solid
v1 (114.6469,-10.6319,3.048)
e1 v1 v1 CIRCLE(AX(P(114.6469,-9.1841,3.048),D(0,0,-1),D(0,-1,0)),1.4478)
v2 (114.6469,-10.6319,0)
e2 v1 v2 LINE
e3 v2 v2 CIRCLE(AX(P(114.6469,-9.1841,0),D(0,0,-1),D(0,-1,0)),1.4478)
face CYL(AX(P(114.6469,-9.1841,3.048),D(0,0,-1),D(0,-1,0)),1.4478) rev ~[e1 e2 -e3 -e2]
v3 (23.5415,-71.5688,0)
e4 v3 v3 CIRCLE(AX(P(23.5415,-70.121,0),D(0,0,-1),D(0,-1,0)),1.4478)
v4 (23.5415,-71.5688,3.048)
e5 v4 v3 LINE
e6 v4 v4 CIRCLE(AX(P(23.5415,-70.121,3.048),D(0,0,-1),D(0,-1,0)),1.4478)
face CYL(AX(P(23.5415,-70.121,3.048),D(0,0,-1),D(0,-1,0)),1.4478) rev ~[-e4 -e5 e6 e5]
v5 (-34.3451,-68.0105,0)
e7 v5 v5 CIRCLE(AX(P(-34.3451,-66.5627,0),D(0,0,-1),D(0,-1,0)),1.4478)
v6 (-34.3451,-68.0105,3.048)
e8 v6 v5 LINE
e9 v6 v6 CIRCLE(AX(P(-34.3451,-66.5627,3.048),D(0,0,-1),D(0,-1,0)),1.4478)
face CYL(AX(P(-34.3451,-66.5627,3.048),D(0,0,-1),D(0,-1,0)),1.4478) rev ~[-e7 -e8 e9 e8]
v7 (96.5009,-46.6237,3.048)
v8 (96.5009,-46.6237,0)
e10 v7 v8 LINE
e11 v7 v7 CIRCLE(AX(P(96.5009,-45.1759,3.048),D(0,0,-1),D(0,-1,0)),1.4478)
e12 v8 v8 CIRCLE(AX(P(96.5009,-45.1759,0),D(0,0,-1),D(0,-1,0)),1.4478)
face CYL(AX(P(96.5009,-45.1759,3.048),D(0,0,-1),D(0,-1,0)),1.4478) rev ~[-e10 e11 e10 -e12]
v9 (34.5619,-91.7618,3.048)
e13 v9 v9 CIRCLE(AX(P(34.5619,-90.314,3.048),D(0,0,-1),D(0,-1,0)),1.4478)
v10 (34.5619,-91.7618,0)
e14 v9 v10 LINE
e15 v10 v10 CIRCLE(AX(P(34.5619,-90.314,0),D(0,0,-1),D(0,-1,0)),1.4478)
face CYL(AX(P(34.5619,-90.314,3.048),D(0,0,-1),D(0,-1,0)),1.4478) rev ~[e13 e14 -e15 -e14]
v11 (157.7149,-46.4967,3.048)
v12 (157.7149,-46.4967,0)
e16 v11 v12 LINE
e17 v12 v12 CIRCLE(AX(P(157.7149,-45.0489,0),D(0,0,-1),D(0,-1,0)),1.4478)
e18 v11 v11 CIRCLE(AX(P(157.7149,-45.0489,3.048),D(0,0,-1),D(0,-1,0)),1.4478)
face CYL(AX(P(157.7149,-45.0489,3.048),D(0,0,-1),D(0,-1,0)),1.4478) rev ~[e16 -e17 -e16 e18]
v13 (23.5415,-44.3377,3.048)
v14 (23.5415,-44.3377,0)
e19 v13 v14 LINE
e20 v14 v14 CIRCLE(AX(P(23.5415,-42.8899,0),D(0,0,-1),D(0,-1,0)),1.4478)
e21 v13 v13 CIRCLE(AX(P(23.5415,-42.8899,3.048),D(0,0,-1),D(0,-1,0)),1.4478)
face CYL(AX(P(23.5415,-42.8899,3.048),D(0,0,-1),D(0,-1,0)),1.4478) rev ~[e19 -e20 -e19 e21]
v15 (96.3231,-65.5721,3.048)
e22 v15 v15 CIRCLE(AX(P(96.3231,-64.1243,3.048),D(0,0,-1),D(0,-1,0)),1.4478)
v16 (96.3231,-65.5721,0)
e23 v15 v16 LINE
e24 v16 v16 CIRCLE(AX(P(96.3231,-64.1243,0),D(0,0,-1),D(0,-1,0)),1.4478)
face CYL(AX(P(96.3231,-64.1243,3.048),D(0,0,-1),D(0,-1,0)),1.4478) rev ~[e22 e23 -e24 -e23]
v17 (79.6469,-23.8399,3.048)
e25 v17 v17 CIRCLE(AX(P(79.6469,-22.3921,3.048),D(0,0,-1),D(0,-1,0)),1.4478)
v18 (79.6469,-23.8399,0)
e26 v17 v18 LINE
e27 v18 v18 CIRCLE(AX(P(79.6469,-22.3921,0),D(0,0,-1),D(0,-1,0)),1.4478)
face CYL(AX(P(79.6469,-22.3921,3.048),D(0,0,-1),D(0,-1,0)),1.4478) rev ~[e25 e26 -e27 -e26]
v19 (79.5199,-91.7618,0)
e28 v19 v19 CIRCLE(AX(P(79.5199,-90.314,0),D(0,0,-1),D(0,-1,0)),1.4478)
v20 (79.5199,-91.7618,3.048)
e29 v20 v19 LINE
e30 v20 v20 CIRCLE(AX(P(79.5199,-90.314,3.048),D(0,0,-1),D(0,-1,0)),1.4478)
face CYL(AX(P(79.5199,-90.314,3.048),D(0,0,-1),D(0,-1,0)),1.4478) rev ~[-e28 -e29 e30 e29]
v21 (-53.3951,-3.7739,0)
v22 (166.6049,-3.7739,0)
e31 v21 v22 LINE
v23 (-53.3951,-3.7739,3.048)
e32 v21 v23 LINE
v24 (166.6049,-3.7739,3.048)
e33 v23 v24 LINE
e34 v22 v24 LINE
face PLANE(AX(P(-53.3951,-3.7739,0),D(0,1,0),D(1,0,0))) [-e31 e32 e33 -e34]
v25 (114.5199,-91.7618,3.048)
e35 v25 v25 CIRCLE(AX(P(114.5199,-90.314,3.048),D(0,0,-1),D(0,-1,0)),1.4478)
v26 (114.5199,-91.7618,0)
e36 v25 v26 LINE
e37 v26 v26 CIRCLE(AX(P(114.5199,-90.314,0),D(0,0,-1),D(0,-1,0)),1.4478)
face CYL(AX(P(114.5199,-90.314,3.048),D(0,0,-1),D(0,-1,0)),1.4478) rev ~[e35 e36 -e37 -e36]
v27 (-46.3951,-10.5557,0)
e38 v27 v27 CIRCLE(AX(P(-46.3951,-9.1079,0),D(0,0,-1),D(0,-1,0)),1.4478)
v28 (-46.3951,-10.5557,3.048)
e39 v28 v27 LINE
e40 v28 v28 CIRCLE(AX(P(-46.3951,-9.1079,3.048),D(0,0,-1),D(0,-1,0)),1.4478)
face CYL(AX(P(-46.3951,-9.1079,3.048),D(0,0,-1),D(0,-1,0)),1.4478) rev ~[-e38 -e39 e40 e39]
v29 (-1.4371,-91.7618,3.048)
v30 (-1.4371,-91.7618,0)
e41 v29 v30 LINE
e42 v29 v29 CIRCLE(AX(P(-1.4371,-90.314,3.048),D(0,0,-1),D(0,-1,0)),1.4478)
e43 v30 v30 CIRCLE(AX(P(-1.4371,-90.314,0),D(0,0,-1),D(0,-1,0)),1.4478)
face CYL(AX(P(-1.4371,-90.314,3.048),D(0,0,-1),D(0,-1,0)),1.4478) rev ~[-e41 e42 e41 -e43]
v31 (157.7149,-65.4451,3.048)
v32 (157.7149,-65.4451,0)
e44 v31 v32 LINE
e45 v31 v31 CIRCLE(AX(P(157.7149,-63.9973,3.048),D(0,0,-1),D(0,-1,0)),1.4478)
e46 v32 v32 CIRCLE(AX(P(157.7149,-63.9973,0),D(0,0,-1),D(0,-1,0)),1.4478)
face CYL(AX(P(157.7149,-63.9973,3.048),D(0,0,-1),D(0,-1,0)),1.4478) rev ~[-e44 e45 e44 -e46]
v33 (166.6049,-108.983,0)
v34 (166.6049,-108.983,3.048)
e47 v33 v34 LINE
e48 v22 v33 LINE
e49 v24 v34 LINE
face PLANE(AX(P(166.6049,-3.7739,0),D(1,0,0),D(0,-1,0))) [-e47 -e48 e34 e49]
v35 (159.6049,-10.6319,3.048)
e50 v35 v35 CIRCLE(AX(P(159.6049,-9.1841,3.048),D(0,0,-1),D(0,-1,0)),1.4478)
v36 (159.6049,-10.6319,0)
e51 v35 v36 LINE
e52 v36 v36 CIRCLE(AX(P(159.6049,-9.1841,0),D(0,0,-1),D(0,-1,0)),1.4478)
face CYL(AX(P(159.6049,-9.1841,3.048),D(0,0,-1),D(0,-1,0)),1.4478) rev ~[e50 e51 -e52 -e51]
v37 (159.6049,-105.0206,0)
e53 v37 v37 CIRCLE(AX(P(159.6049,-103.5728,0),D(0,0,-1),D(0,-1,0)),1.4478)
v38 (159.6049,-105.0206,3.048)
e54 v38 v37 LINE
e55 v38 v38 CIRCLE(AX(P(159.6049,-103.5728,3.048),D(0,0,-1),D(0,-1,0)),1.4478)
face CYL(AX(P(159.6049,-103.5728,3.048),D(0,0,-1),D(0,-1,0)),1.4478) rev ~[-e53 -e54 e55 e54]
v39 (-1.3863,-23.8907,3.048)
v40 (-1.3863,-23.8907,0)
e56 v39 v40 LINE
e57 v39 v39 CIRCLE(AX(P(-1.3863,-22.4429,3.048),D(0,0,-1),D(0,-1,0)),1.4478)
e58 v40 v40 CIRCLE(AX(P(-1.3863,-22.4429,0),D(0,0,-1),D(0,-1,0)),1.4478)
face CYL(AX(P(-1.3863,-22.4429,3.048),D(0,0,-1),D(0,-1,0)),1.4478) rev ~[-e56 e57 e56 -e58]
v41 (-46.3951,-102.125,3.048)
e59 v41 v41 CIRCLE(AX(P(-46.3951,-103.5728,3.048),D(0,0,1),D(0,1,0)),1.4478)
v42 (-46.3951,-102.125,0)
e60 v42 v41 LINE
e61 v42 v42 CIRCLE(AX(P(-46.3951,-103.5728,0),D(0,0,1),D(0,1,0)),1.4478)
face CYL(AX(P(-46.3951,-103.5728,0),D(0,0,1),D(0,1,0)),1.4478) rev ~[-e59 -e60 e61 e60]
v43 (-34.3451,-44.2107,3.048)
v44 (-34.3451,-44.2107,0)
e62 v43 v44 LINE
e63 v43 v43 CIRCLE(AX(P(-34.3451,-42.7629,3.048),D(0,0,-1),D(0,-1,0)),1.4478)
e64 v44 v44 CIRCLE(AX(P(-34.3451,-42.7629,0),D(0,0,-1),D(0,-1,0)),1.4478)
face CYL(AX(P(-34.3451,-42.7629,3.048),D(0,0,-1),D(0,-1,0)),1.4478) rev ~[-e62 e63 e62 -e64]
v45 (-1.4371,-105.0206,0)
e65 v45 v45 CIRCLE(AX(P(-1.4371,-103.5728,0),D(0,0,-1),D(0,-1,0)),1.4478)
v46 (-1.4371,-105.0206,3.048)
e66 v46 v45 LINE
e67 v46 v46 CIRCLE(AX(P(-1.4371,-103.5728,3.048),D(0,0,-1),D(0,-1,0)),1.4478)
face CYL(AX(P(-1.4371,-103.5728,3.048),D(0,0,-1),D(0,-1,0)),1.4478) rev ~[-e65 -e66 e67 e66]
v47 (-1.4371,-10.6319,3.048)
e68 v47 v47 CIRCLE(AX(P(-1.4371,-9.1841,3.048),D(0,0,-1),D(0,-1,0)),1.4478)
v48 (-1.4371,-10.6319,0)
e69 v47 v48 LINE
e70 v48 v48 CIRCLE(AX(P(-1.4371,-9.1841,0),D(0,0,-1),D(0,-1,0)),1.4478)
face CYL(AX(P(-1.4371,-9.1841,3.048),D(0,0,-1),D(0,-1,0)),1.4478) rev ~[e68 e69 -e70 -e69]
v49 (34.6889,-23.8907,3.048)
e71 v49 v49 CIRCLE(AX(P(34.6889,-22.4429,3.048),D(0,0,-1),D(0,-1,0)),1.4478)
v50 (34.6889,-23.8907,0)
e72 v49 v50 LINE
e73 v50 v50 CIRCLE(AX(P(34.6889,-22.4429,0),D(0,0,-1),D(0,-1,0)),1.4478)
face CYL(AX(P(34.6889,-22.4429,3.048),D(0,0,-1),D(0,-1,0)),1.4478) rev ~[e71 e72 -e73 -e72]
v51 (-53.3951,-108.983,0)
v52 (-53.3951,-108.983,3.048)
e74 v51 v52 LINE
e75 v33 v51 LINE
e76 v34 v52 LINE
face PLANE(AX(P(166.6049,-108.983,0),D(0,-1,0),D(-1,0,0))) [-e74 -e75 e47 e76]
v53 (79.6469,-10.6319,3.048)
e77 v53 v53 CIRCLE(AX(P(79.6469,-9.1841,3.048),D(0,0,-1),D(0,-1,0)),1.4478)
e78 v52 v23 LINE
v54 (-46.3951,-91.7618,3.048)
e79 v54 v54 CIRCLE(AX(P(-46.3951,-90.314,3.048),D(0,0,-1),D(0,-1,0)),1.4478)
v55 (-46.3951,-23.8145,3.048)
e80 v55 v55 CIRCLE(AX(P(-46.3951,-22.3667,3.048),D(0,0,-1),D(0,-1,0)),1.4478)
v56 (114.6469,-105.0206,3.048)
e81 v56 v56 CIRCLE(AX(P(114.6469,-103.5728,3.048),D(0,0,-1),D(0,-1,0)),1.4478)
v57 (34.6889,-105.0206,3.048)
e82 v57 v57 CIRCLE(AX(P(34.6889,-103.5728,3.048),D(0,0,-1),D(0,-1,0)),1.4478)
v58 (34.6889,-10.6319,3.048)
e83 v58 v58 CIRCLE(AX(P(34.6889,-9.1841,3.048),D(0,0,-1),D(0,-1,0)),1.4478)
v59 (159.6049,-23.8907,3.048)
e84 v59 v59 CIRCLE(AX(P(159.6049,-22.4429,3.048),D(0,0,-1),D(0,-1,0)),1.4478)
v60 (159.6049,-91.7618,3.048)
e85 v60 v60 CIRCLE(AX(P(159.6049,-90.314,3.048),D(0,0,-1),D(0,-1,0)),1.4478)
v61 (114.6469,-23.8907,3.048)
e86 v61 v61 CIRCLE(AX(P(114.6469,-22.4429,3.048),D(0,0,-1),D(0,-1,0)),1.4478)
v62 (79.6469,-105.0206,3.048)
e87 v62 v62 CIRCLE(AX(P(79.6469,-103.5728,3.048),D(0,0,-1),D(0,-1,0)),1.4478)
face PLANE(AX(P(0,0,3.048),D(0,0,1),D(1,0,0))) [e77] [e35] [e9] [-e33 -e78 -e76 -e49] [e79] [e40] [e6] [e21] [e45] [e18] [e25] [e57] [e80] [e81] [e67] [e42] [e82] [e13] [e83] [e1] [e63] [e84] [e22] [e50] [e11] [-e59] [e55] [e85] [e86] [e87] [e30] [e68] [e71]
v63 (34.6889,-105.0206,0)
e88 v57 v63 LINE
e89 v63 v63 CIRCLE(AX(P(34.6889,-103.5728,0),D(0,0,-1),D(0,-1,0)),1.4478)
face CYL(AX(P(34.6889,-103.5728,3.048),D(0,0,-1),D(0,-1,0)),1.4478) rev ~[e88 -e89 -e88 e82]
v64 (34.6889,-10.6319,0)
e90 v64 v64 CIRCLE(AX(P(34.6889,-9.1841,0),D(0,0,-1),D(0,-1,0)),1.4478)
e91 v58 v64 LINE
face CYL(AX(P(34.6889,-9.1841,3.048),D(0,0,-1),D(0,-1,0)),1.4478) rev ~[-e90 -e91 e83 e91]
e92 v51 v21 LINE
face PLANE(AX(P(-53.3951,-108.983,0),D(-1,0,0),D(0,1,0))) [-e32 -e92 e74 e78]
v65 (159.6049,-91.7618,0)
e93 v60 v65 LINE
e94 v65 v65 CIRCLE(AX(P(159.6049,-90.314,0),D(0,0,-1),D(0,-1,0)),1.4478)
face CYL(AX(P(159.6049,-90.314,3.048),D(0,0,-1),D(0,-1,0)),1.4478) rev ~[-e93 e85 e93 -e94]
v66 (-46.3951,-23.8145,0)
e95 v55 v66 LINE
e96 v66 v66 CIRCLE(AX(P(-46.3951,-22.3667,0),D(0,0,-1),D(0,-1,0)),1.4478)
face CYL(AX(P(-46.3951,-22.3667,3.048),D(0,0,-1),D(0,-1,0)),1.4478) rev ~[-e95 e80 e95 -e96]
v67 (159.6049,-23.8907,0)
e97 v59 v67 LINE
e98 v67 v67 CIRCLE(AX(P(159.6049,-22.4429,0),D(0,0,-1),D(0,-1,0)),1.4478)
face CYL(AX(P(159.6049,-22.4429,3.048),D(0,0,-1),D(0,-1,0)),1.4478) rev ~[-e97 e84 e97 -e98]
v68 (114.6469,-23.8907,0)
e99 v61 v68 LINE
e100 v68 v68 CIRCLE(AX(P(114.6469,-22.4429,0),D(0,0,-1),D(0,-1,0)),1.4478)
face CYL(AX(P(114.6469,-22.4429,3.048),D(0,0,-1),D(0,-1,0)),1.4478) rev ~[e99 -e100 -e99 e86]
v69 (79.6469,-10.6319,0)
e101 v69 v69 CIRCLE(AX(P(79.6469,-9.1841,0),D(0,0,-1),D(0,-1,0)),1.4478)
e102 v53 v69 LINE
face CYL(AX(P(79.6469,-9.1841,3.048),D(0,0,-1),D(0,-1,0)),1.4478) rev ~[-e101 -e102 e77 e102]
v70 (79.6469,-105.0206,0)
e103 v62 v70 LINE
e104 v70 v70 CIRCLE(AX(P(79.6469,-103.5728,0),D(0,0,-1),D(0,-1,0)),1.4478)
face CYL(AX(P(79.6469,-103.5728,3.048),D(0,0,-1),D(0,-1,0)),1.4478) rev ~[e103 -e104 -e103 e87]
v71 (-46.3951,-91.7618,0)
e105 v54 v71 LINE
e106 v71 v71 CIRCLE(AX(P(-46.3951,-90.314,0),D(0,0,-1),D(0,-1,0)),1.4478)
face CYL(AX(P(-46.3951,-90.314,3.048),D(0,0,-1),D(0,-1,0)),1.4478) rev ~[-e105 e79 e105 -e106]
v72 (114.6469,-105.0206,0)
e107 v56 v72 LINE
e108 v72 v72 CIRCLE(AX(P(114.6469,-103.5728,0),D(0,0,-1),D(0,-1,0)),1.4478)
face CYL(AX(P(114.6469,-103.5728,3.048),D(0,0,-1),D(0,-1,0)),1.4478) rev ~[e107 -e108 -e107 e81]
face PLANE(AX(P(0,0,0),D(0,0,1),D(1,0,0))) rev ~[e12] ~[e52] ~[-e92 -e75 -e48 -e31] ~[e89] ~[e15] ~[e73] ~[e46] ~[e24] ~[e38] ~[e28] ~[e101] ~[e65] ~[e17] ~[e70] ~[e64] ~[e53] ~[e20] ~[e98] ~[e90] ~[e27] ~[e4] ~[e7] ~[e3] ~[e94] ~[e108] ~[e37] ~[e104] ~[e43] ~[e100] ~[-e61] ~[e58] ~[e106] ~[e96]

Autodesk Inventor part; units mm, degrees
ref_plane "YZ Plane" through (0, 0, 0) normal (1, 0, 0) x (0, 1, 0)
ref_plane "XZ Plane" through (0, 0, 0) normal (0, 1, 0) x (-1, 0, 0)
ref_plane "XY Plane" through (0, 0, 0) normal (0, 0, 1) x (1, 0, 0)
sketch "Sketch2" plane through (0, 0, 0) normal (0, 0, 1) x (1, 0, 0)
  line L0 (-53.3951, -3.7739) -> (166.6049, -3.7739)
  line L1 (166.6049, -3.7739) -> (166.6049, -108.983)
  line L2 (166.6049, -108.983) -> (-53.3951, -108.983)
  line L3 (-53.3951, -108.983) -> (-53.3951, -3.7739)
  dimension "d316" = 220
extrude "Extrusion1" add sketch "Sketch2" along normal blind 3.048
sketch "Sketch3" plane through (0, 0, 0) normal (0, 0, -1) x (-1, 0, 0)
  line L0 (53.3951, -3.7739) -> (53.3951, -108.983) projected
  line L1 (53.3951, -108.983) -> (-166.6049, -108.983) projected
  point P0 (0, 0)
  point P1 (46.3951, -103.5728)
  point P2 (10.1898, -98.9163)
  point P3 (11.7773, -97.3288)
  dimension "d18" = 7
  dimension "d19" = 5.4102
hole "Hole1" at (-46.3951, -103.5728, 0) direction (0, 0, 1) diameter 2.8956 end through all
sketch "Sketch6" plane through (0, 0, 3.048) normal (0, 0, 1) x (1, 0, 0)
  line L0 (-53.3951, -3.7739) -> (-53.3951, -108.983) projected
  circle A0 centre (-46.3951, -103.5728) radius 1.4478 projected
  point P0 (0, 0)
  point P1 (-46.3951, -90.314)
  dimension "d31" = 7
  dimension "d32" = 13.2588
hole "Hole2" at (-46.3951, -90.314, 3.048) direction (0, 0, -1) diameter 2.8956 end through all
sketch "Sketch7" plane through (0, 0, 3.048) normal (0, 0, 1) x (1, 0, 0)
  circle A0 centre (-46.3951, -103.5728) radius 1.4478 projected
  line L0 (-53.3951, -108.983) -> (166.6049, -108.983) projected
  point P0 (0, 0)
  point P1 (-1.4371, -103.5728)
  dimension "d40" = 44.958
  dimension "d41" = 5.4102
hole "Hole3" at (-1.4371, -103.5728, 3.048) direction (0, 0, -1) diameter 2.8956 end through all
sketch "Sketch8" plane through (0, 0, 3.048) normal (0, 0, 1) x (1, 0, 0)
  line L0 (-53.3951, -3.7739) -> (-53.3951, -108.983) projected
  circle A0 centre (-46.3951, -90.314) radius 1.4478 projected
  circle A1 centre (-1.4371, -103.5728) radius 1.4478 projected
  point P0 (0, 0)
  point P1 (-1.4371, -90.314)
  dimension "d50" = 44.958
  dimension "d51" = 13.2588
hole "Hole4" at (-1.4371, -90.314, 3.048) direction (0, 0, -1) diameter 2.8956 end through all
sketch "Sketch10" plane through (0, 0, 3.048) normal (0, 0, 1) x (1, 0, 0)
  line L0 (166.6049, -3.7739) -> (-53.3951, -3.7739) projected
  line L1 (-53.3951, -3.7739) -> (-53.3951, -108.983) projected
  point P0 (0, 0)
  point P1 (-46.3951, -9.1079)
  dimension "d59" = 5.334
  dimension "d60" = 7
hole "Hole5" at (-46.3951, -9.1079, 3.048) direction (0, 0, -1) diameter 2.8956 end through all
sketch "Sketch11" plane through (0, 0, 3.048) normal (0, 0, 1) x (1, 0, 0)
  line L0 (-53.3951, -3.7739) -> (-53.3951, -108.983) projected
  line L1 (166.6049, -3.7739) -> (-53.3951, -3.7739) projected
  circle A0 centre (-46.3951, -9.1079) radius 1.4478 projected
  point P0 (0, 0)
  point P1 (-46.3951, -22.3667)
  dimension "d68" = 7
  dimension "d70" = 13.2588
hole "Hole6" at (-46.3951, -22.3667, 3.048) direction (0, 0, -1) diameter 2.8956 end through all
sketch "Sketch12" plane through (0, 0, 3.048) normal (0, 0, 1) x (1, 0, 0)
  line L0 (166.6049, -3.7739) -> (-53.3951, -3.7739) projected
  circle A0 centre (-46.3951, -9.1079) radius 1.4478 projected
  point P0 (0, 0)
  point P1 (-1.4371, -9.1841)
  dimension "d78" = 5.4102
  dimension "d79" = 44.958
hole "Hole7" at (-1.4371, -9.1841, 3.048) direction (0, 0, -1) diameter 2.8956 end through all
sketch "Sketch13" plane through (0, 0, 3.048) normal (0, 0, 1) x (1, 0, 0)
  circle A0 centre (-1.4371, -9.1841) radius 1.4478 projected
  circle A1 centre (-46.3951, -22.3667) radius 1.4478 projected
  point P0 (0, 0)
  point P1 (-1.3863, -22.4429)
  dimension "d87" = 13.2588
  dimension "d88" = 45.0088
hole "Hole8" at (-1.3863, -22.4429, 3.048) direction (0, 0, -1) diameter 2.8956 end through all
sketch "Sketch14" plane through (0, 0, 3.048) normal (0, 0, 1) x (1, 0, 0)
  line L0 (166.6049, -3.7739) -> (-53.3951, -3.7739) projected
  line L1 (166.6049, -108.983) -> (166.6049, -3.7739) projected
  point P0 (0, 0)
  point P1 (159.6049, -9.1841)
  dimension "d96" = 5.4102
  dimension "d97" = 7
hole "Hole9" at (159.6049, -9.1841, 3.048) direction (0, 0, -1) diameter 2.8956 end through all
sketch "Sketch15" plane through (0, 0, 3.048) normal (0, 0, 1) x (1, 0, 0)
  line L0 (-53.3951, -108.983) -> (166.6049, -108.983) projected
  line L1 (166.6049, -108.983) -> (166.6049, -3.7739) projected
  point P0 (0, 0)
  point P1 (159.6049, -103.5728)
  dimension "d105" = 5.4102
  dimension "d106" = 7
hole "Hole10" at (159.6049, -103.5728, 3.048) direction (0, 0, -1) diameter 2.8956 end through all
sketch "Sketch16" plane through (0, 0, 3.048) normal (0, 0, 1) x (1, 0, 0)
  line L0 (-53.3951, -108.983) -> (166.6049, -108.983) projected
  circle A0 centre (159.6049, -103.5728) radius 1.4478 projected
  point P0 (0, 0)
  point P1 (114.6469, -103.5728)
  dimension "d114" = 5.4102
  dimension "d115" = 44.958
hole "Hole11" at (114.6469, -103.5728, 3.048) direction (0, 0, -1) diameter 2.8956 end through all
sketch "Sketch17" plane through (0, 0, 3.048) normal (0, 0, 1) x (1, 0, 0)
  line L0 (166.6049, -3.7739) -> (-53.3951, -3.7739) projected
  circle A0 centre (159.6049, -9.1841) radius 1.4478 projected
  point P0 (0, 0)
  point P1 (114.6469, -9.1841)
  dimension "d123" = 5.4102
  dimension "d124" = 44.958
hole "Hole12" at (114.6469, -9.1841, 3.048) direction (0, 0, -1) diameter 2.8956 end through all
sketch "Sketch19" plane through (0, 0, 3.048) normal (0, 0, 1) x (1, 0, 0)
  line L0 (166.6049, -108.983) -> (166.6049, -3.7739) projected
  circle A0 centre (159.6049, -103.5728) radius 1.4478 projected
  point P0 (0, 0)
  point P1 (159.6049, -90.314)
  dimension "d146" = 7
  dimension "d147" = 13.2588
hole "Hole14" at (159.6049, -90.314, 3.048) direction (0, 0, -1) diameter 2.8956 end through all
sketch "Sketch20" plane through (0, 0, 3.048) normal (0, 0, 1) x (1, 0, 0)
  circle A0 centre (159.6049, -9.1841) radius 1.4478 projected
  line L0 (166.6049, -108.983) -> (166.6049, -3.7739) projected
  point P0 (0, 0)
  point P1 (159.6049, -22.4429)
  dimension "d150" = 13.2588
  dimension "d151" = 7
hole "Hole15" at (159.6049, -22.4429, 3.048) direction (0, 0, -1) diameter 2.8956 end through all
sketch "Sketch18" plane through (0, 0, 3.048) normal (0, 0, 1) x (1, 0, 0)
  circle A0 centre (114.6469, -103.5728) radius 1.4478 projected
  circle A1 centre (159.6049, -90.314) radius 1.4478 projected
  point P0 (0, 0)
  point P1 (114.5199, -90.314)
  dimension "d148" = 13.2588
  dimension "d149" = 45.085
hole "Hole13" at (114.5199, -90.314, 3.048) direction (0, 0, -1) diameter 2.8956 end through all
sketch "Sketch21" plane through (0, 0, 3.048) normal (0, 0, 1) x (1, 0, 0)
  circle A0 centre (159.6049, -22.4429) radius 1.4478 projected
  circle A1 centre (114.6469, -9.1841) radius 1.4478 projected
  point P0 (0, 0)
  point P1 (114.6469, -22.4429)
  dimension "d159" = 44.958
  dimension "d160" = 13.2588
hole "Hole16" at (114.6469, -22.4429, 3.048) direction (0, 0, -1) diameter 2.8956 end through all
sketch "Sketch22" plane through (0, 0, 3.048) normal (0, 0, 1) x (1, 0, 0)
  line L0 (-53.3951, -108.983) -> (166.6049, -108.983) projected
  circle A0 centre (114.6469, -103.5728) radius 1.4478 projected
  point P0 (0, 0)
  point P1 (79.6469, -103.5728)
  dimension "d168" = 5.4102
  dimension "d178" = 35
hole "Hole17" at (79.6469, -103.5728, 3.048) direction (0, 0, -1) diameter 2.8956 end through all
sketch "Sketch23" plane through (0, 0, 3.048) normal (0, 0, 1) x (1, 0, 0)
  line L0 (-53.3951, -108.983) -> (166.6049, -108.983) projected
  circle A0 centre (79.6469, -103.5728) radius 1.4478 projected
  point P0 (0, 0)
  point P1 (34.6889, -103.5728)
  dimension "d176" = 5.4102
  dimension "d177" = 44.958
hole "Hole18" at (34.6889, -103.5728, 3.048) direction (0, 0, -1) diameter 2.8956 end through all
sketch "Sketch24" plane through (0, 0, 3.048) normal (0, 0, 1) x (1, 0, 0)
  circle A0 centre (114.5199, -90.314) radius 1.4478 projected
  circle A1 centre (79.6469, -103.5728) radius 1.4478 projected
  point P0 (0, 0)
  point P1 (79.5199, -90.314)
  dimension "d193" = 35
  dimension "d194" = 13.2588
hole "Hole19" at (79.5199, -90.314, 3.048) direction (0, 0, -1) diameter 2.8956 end through all
sketch "Sketch25" plane through (0, 0, 3.048) normal (0, 0, 1) x (1, 0, 0)
  circle A0 centre (34.6889, -103.5728) radius 1.4478 projected
  circle A1 centre (79.5199, -90.314) radius 1.4478 projected
  point P0 (0, 0)
  point P1 (34.5619, -90.314)
  dimension "d195" = 13.2588
  dimension "d196" = 44.958
hole "Hole20" at (34.5619, -90.314, 3.048) direction (0, 0, -1) diameter 2.8956 end through all
sketch "Sketch26" plane through (0, 0, 3.048) normal (0, 0, 1) x (1, 0, 0)
  circle A0 centre (114.6469, -9.1841) radius 1.4478 projected
  line L0 (166.6049, -3.7739) -> (-53.3951, -3.7739) projected
  point P0 (0, 0)
  point P1 (79.6469, -9.1841)
  dimension "d225" = 35
  dimension "d226" = 5.4102
hole "Hole21" at (79.6469, -9.1841, 3.048) direction (0, 0, -1) diameter 2.8956 end through all
sketch "Sketch27" plane through (0, 0, 3.048) normal (0, 0, 1) x (1, 0, 0)
  line L0 (166.6049, -3.7739) -> (-53.3951, -3.7739) projected
  circle A0 centre (79.6469, -9.1841) radius 1.4478 projected
  point P0 (0, 0)
  point P1 (34.6889, -9.1841)
  dimension "d227" = 5.4102
  dimension "d228" = 44.958
hole "Hole22" at (34.6889, -9.1841, 3.048) direction (0, 0, -1) diameter 2.8956 end through all
sketch "Sketch28" plane through (0, 0, 3.048) normal (0, 0, 1) x (1, 0, 0)
  circle A0 centre (79.6469, -9.1841) radius 1.4478 projected
  circle A1 centre (114.6469, -22.4429) radius 1.4478 projected
  point P0 (0, 0)
  point P1 (79.6469, -22.3921)
  dimension "d229" = 13.208
  dimension "d230" = 35
hole "Hole23" at (79.6469, -22.3921, 3.048) direction (0, 0, -1) diameter 2.8956 end through all
sketch "Sketch29" plane through (0, 0, 3.048) normal (0, 0, 1) x (1, 0, 0)
  circle A0 centre (79.6469, -22.3921) radius 1.4478 projected
  circle A1 centre (34.6889, -9.1841) radius 1.4478 projected
  point P0 (0, 0)
  point P1 (34.6889, -22.4429)
  dimension "d231" = 44.958
  dimension "d232" = 13.2588
hole "Hole24" at (34.6889, -22.4429, 3.048) direction (0, 0, -1) diameter 2.8956 end through all
sketch "Sketch30" plane through (0, 0, 3.048) normal (0, 0, 1) x (1, 0, 0)
  line L0 (-53.3951, -3.7739) -> (-53.3951, -108.983) projected
  line L1 (166.6049, -3.7739) -> (-53.3951, -3.7739) projected
  point P0 (0, 0)
  point P1 (-34.3451, -42.7629)
  dimension "d242" = 19.05
  dimension "d256" = 38.989
hole "Hole25" at (-34.3451, -42.7629, 3.048) direction (0, 0, -1) diameter 2.8956 end through all
sketch "Sketch31" plane through (0, 0, 3.048) normal (0, 0, 1) x (1, 0, 0)
  line L0 (-53.3951, -3.7739) -> (-53.3951, -108.983) projected
  circle A0 centre (-34.3451, -42.7629) radius 1.4478 projected
  point P0 (0, 0)
  point P1 (-34.3451, -66.5627)
  dimension "d250" = 19.05
  dimension "d251" = 23.7998
hole "Hole26" at (-34.3451, -66.5627, 3.048) direction (0, 0, -1) diameter 2.8956 end through all
sketch "Sketch32" plane through (0, 0, 3.048) normal (0, 0, 1) x (1, 0, 0)
  circle A0 centre (-34.3451, -42.7629) radius 1.4478 projected
  line L0 (166.6049, -3.7739) -> (-53.3951, -3.7739) projected
  point P0 (0, 0)
  point P1 (23.5415, -42.8899)
  dimension "d264" = 57.8866
  dimension "d265" = 39.116
hole "Hole27" at (23.5415, -42.8899, 3.048) direction (0, 0, -1) diameter 2.8956 end through all
sketch "Sketch33" plane through (0, 0, 3.048) normal (0, 0, 1) x (1, 0, 0)
  circle A0 centre (-34.3451, -66.5627) radius 1.4478 projected
  line L0 (-53.3951, -108.983) -> (166.6049, -108.983) projected
  point P0 (0, 0)
  point P1 (23.5415, -70.121)
  dimension "d273" = 57.8866
  dimension "d274" = 38.862
hole "Hole28" at (23.5415, -70.121, 3.048) direction (0, 0, -1) diameter 2.8956 end through all
sketch "Sketch34" plane through (0, 0, 3.048) normal (0, 0, 1) x (1, 0, 0)
  line L0 (166.6049, -108.983) -> (166.6049, -3.7739) projected
  line L1 (166.6049, -3.7739) -> (-53.3951, -3.7739) projected
  point P0 (0, 0)
  point P1 (157.7149, -45.0489)
  dimension "d282" = 8.89
  dimension "d295" = 41.275
hole "Hole29" at (157.7149, -45.0489, 3.048) direction (0, 0, -1) diameter 2.8956 end through all
sketch "Sketch35" plane through (0, 0, 3.048) normal (0, 0, 1) x (1, 0, 0)
  line L0 (166.6049, -108.983) -> (166.6049, -3.7739) projected
  circle A0 centre (157.7149, -45.0489) radius 1.4478 projected
  point P0 (0, 0)
  point P1 (157.7149, -63.9973)
  dimension "d290" = 8.89
  dimension "d296" = 18.9484
hole "Hole30" at (157.7149, -63.9973, 3.048) direction (0, 0, -1) diameter 2.8956 end through all
sketch "Sketch36" plane through (0, 0, 3.048) normal (0, 0, 1) x (1, 0, 0)
  circle A0 centre (157.7149, -45.0489) radius 1.4478 projected
  line L0 (166.6049, -3.7739) -> (-53.3951, -3.7739) projected
  point P0 (0, 0)
  point P1 (96.5009, -45.1759)
  dimension "d304" = 61.214
  dimension "d305" = 41.402
hole "Hole31" at (96.5009, -45.1759, 3.048) direction (0, 0, -1) diameter 2.8956 end through all
sketch "Sketch37" plane through (0, 0, 3.048) normal (0, 0, 1) x (1, 0, 0)
  circle A0 centre (96.5009, -45.1759) radius 1.4478 projected
  circle A1 centre (157.7149, -63.9973) radius 1.4478 projected
  point P0 (0, 0)
  point P1 (96.3231, -64.1243)
  dimension "d313" = 18.9484
  dimension "d314" = 61.3918
hole "Hole32" at (96.3231, -64.1243, 3.048) direction (0, 0, -1) diameter 2.8956 end through all
properties part number "Plaque"
